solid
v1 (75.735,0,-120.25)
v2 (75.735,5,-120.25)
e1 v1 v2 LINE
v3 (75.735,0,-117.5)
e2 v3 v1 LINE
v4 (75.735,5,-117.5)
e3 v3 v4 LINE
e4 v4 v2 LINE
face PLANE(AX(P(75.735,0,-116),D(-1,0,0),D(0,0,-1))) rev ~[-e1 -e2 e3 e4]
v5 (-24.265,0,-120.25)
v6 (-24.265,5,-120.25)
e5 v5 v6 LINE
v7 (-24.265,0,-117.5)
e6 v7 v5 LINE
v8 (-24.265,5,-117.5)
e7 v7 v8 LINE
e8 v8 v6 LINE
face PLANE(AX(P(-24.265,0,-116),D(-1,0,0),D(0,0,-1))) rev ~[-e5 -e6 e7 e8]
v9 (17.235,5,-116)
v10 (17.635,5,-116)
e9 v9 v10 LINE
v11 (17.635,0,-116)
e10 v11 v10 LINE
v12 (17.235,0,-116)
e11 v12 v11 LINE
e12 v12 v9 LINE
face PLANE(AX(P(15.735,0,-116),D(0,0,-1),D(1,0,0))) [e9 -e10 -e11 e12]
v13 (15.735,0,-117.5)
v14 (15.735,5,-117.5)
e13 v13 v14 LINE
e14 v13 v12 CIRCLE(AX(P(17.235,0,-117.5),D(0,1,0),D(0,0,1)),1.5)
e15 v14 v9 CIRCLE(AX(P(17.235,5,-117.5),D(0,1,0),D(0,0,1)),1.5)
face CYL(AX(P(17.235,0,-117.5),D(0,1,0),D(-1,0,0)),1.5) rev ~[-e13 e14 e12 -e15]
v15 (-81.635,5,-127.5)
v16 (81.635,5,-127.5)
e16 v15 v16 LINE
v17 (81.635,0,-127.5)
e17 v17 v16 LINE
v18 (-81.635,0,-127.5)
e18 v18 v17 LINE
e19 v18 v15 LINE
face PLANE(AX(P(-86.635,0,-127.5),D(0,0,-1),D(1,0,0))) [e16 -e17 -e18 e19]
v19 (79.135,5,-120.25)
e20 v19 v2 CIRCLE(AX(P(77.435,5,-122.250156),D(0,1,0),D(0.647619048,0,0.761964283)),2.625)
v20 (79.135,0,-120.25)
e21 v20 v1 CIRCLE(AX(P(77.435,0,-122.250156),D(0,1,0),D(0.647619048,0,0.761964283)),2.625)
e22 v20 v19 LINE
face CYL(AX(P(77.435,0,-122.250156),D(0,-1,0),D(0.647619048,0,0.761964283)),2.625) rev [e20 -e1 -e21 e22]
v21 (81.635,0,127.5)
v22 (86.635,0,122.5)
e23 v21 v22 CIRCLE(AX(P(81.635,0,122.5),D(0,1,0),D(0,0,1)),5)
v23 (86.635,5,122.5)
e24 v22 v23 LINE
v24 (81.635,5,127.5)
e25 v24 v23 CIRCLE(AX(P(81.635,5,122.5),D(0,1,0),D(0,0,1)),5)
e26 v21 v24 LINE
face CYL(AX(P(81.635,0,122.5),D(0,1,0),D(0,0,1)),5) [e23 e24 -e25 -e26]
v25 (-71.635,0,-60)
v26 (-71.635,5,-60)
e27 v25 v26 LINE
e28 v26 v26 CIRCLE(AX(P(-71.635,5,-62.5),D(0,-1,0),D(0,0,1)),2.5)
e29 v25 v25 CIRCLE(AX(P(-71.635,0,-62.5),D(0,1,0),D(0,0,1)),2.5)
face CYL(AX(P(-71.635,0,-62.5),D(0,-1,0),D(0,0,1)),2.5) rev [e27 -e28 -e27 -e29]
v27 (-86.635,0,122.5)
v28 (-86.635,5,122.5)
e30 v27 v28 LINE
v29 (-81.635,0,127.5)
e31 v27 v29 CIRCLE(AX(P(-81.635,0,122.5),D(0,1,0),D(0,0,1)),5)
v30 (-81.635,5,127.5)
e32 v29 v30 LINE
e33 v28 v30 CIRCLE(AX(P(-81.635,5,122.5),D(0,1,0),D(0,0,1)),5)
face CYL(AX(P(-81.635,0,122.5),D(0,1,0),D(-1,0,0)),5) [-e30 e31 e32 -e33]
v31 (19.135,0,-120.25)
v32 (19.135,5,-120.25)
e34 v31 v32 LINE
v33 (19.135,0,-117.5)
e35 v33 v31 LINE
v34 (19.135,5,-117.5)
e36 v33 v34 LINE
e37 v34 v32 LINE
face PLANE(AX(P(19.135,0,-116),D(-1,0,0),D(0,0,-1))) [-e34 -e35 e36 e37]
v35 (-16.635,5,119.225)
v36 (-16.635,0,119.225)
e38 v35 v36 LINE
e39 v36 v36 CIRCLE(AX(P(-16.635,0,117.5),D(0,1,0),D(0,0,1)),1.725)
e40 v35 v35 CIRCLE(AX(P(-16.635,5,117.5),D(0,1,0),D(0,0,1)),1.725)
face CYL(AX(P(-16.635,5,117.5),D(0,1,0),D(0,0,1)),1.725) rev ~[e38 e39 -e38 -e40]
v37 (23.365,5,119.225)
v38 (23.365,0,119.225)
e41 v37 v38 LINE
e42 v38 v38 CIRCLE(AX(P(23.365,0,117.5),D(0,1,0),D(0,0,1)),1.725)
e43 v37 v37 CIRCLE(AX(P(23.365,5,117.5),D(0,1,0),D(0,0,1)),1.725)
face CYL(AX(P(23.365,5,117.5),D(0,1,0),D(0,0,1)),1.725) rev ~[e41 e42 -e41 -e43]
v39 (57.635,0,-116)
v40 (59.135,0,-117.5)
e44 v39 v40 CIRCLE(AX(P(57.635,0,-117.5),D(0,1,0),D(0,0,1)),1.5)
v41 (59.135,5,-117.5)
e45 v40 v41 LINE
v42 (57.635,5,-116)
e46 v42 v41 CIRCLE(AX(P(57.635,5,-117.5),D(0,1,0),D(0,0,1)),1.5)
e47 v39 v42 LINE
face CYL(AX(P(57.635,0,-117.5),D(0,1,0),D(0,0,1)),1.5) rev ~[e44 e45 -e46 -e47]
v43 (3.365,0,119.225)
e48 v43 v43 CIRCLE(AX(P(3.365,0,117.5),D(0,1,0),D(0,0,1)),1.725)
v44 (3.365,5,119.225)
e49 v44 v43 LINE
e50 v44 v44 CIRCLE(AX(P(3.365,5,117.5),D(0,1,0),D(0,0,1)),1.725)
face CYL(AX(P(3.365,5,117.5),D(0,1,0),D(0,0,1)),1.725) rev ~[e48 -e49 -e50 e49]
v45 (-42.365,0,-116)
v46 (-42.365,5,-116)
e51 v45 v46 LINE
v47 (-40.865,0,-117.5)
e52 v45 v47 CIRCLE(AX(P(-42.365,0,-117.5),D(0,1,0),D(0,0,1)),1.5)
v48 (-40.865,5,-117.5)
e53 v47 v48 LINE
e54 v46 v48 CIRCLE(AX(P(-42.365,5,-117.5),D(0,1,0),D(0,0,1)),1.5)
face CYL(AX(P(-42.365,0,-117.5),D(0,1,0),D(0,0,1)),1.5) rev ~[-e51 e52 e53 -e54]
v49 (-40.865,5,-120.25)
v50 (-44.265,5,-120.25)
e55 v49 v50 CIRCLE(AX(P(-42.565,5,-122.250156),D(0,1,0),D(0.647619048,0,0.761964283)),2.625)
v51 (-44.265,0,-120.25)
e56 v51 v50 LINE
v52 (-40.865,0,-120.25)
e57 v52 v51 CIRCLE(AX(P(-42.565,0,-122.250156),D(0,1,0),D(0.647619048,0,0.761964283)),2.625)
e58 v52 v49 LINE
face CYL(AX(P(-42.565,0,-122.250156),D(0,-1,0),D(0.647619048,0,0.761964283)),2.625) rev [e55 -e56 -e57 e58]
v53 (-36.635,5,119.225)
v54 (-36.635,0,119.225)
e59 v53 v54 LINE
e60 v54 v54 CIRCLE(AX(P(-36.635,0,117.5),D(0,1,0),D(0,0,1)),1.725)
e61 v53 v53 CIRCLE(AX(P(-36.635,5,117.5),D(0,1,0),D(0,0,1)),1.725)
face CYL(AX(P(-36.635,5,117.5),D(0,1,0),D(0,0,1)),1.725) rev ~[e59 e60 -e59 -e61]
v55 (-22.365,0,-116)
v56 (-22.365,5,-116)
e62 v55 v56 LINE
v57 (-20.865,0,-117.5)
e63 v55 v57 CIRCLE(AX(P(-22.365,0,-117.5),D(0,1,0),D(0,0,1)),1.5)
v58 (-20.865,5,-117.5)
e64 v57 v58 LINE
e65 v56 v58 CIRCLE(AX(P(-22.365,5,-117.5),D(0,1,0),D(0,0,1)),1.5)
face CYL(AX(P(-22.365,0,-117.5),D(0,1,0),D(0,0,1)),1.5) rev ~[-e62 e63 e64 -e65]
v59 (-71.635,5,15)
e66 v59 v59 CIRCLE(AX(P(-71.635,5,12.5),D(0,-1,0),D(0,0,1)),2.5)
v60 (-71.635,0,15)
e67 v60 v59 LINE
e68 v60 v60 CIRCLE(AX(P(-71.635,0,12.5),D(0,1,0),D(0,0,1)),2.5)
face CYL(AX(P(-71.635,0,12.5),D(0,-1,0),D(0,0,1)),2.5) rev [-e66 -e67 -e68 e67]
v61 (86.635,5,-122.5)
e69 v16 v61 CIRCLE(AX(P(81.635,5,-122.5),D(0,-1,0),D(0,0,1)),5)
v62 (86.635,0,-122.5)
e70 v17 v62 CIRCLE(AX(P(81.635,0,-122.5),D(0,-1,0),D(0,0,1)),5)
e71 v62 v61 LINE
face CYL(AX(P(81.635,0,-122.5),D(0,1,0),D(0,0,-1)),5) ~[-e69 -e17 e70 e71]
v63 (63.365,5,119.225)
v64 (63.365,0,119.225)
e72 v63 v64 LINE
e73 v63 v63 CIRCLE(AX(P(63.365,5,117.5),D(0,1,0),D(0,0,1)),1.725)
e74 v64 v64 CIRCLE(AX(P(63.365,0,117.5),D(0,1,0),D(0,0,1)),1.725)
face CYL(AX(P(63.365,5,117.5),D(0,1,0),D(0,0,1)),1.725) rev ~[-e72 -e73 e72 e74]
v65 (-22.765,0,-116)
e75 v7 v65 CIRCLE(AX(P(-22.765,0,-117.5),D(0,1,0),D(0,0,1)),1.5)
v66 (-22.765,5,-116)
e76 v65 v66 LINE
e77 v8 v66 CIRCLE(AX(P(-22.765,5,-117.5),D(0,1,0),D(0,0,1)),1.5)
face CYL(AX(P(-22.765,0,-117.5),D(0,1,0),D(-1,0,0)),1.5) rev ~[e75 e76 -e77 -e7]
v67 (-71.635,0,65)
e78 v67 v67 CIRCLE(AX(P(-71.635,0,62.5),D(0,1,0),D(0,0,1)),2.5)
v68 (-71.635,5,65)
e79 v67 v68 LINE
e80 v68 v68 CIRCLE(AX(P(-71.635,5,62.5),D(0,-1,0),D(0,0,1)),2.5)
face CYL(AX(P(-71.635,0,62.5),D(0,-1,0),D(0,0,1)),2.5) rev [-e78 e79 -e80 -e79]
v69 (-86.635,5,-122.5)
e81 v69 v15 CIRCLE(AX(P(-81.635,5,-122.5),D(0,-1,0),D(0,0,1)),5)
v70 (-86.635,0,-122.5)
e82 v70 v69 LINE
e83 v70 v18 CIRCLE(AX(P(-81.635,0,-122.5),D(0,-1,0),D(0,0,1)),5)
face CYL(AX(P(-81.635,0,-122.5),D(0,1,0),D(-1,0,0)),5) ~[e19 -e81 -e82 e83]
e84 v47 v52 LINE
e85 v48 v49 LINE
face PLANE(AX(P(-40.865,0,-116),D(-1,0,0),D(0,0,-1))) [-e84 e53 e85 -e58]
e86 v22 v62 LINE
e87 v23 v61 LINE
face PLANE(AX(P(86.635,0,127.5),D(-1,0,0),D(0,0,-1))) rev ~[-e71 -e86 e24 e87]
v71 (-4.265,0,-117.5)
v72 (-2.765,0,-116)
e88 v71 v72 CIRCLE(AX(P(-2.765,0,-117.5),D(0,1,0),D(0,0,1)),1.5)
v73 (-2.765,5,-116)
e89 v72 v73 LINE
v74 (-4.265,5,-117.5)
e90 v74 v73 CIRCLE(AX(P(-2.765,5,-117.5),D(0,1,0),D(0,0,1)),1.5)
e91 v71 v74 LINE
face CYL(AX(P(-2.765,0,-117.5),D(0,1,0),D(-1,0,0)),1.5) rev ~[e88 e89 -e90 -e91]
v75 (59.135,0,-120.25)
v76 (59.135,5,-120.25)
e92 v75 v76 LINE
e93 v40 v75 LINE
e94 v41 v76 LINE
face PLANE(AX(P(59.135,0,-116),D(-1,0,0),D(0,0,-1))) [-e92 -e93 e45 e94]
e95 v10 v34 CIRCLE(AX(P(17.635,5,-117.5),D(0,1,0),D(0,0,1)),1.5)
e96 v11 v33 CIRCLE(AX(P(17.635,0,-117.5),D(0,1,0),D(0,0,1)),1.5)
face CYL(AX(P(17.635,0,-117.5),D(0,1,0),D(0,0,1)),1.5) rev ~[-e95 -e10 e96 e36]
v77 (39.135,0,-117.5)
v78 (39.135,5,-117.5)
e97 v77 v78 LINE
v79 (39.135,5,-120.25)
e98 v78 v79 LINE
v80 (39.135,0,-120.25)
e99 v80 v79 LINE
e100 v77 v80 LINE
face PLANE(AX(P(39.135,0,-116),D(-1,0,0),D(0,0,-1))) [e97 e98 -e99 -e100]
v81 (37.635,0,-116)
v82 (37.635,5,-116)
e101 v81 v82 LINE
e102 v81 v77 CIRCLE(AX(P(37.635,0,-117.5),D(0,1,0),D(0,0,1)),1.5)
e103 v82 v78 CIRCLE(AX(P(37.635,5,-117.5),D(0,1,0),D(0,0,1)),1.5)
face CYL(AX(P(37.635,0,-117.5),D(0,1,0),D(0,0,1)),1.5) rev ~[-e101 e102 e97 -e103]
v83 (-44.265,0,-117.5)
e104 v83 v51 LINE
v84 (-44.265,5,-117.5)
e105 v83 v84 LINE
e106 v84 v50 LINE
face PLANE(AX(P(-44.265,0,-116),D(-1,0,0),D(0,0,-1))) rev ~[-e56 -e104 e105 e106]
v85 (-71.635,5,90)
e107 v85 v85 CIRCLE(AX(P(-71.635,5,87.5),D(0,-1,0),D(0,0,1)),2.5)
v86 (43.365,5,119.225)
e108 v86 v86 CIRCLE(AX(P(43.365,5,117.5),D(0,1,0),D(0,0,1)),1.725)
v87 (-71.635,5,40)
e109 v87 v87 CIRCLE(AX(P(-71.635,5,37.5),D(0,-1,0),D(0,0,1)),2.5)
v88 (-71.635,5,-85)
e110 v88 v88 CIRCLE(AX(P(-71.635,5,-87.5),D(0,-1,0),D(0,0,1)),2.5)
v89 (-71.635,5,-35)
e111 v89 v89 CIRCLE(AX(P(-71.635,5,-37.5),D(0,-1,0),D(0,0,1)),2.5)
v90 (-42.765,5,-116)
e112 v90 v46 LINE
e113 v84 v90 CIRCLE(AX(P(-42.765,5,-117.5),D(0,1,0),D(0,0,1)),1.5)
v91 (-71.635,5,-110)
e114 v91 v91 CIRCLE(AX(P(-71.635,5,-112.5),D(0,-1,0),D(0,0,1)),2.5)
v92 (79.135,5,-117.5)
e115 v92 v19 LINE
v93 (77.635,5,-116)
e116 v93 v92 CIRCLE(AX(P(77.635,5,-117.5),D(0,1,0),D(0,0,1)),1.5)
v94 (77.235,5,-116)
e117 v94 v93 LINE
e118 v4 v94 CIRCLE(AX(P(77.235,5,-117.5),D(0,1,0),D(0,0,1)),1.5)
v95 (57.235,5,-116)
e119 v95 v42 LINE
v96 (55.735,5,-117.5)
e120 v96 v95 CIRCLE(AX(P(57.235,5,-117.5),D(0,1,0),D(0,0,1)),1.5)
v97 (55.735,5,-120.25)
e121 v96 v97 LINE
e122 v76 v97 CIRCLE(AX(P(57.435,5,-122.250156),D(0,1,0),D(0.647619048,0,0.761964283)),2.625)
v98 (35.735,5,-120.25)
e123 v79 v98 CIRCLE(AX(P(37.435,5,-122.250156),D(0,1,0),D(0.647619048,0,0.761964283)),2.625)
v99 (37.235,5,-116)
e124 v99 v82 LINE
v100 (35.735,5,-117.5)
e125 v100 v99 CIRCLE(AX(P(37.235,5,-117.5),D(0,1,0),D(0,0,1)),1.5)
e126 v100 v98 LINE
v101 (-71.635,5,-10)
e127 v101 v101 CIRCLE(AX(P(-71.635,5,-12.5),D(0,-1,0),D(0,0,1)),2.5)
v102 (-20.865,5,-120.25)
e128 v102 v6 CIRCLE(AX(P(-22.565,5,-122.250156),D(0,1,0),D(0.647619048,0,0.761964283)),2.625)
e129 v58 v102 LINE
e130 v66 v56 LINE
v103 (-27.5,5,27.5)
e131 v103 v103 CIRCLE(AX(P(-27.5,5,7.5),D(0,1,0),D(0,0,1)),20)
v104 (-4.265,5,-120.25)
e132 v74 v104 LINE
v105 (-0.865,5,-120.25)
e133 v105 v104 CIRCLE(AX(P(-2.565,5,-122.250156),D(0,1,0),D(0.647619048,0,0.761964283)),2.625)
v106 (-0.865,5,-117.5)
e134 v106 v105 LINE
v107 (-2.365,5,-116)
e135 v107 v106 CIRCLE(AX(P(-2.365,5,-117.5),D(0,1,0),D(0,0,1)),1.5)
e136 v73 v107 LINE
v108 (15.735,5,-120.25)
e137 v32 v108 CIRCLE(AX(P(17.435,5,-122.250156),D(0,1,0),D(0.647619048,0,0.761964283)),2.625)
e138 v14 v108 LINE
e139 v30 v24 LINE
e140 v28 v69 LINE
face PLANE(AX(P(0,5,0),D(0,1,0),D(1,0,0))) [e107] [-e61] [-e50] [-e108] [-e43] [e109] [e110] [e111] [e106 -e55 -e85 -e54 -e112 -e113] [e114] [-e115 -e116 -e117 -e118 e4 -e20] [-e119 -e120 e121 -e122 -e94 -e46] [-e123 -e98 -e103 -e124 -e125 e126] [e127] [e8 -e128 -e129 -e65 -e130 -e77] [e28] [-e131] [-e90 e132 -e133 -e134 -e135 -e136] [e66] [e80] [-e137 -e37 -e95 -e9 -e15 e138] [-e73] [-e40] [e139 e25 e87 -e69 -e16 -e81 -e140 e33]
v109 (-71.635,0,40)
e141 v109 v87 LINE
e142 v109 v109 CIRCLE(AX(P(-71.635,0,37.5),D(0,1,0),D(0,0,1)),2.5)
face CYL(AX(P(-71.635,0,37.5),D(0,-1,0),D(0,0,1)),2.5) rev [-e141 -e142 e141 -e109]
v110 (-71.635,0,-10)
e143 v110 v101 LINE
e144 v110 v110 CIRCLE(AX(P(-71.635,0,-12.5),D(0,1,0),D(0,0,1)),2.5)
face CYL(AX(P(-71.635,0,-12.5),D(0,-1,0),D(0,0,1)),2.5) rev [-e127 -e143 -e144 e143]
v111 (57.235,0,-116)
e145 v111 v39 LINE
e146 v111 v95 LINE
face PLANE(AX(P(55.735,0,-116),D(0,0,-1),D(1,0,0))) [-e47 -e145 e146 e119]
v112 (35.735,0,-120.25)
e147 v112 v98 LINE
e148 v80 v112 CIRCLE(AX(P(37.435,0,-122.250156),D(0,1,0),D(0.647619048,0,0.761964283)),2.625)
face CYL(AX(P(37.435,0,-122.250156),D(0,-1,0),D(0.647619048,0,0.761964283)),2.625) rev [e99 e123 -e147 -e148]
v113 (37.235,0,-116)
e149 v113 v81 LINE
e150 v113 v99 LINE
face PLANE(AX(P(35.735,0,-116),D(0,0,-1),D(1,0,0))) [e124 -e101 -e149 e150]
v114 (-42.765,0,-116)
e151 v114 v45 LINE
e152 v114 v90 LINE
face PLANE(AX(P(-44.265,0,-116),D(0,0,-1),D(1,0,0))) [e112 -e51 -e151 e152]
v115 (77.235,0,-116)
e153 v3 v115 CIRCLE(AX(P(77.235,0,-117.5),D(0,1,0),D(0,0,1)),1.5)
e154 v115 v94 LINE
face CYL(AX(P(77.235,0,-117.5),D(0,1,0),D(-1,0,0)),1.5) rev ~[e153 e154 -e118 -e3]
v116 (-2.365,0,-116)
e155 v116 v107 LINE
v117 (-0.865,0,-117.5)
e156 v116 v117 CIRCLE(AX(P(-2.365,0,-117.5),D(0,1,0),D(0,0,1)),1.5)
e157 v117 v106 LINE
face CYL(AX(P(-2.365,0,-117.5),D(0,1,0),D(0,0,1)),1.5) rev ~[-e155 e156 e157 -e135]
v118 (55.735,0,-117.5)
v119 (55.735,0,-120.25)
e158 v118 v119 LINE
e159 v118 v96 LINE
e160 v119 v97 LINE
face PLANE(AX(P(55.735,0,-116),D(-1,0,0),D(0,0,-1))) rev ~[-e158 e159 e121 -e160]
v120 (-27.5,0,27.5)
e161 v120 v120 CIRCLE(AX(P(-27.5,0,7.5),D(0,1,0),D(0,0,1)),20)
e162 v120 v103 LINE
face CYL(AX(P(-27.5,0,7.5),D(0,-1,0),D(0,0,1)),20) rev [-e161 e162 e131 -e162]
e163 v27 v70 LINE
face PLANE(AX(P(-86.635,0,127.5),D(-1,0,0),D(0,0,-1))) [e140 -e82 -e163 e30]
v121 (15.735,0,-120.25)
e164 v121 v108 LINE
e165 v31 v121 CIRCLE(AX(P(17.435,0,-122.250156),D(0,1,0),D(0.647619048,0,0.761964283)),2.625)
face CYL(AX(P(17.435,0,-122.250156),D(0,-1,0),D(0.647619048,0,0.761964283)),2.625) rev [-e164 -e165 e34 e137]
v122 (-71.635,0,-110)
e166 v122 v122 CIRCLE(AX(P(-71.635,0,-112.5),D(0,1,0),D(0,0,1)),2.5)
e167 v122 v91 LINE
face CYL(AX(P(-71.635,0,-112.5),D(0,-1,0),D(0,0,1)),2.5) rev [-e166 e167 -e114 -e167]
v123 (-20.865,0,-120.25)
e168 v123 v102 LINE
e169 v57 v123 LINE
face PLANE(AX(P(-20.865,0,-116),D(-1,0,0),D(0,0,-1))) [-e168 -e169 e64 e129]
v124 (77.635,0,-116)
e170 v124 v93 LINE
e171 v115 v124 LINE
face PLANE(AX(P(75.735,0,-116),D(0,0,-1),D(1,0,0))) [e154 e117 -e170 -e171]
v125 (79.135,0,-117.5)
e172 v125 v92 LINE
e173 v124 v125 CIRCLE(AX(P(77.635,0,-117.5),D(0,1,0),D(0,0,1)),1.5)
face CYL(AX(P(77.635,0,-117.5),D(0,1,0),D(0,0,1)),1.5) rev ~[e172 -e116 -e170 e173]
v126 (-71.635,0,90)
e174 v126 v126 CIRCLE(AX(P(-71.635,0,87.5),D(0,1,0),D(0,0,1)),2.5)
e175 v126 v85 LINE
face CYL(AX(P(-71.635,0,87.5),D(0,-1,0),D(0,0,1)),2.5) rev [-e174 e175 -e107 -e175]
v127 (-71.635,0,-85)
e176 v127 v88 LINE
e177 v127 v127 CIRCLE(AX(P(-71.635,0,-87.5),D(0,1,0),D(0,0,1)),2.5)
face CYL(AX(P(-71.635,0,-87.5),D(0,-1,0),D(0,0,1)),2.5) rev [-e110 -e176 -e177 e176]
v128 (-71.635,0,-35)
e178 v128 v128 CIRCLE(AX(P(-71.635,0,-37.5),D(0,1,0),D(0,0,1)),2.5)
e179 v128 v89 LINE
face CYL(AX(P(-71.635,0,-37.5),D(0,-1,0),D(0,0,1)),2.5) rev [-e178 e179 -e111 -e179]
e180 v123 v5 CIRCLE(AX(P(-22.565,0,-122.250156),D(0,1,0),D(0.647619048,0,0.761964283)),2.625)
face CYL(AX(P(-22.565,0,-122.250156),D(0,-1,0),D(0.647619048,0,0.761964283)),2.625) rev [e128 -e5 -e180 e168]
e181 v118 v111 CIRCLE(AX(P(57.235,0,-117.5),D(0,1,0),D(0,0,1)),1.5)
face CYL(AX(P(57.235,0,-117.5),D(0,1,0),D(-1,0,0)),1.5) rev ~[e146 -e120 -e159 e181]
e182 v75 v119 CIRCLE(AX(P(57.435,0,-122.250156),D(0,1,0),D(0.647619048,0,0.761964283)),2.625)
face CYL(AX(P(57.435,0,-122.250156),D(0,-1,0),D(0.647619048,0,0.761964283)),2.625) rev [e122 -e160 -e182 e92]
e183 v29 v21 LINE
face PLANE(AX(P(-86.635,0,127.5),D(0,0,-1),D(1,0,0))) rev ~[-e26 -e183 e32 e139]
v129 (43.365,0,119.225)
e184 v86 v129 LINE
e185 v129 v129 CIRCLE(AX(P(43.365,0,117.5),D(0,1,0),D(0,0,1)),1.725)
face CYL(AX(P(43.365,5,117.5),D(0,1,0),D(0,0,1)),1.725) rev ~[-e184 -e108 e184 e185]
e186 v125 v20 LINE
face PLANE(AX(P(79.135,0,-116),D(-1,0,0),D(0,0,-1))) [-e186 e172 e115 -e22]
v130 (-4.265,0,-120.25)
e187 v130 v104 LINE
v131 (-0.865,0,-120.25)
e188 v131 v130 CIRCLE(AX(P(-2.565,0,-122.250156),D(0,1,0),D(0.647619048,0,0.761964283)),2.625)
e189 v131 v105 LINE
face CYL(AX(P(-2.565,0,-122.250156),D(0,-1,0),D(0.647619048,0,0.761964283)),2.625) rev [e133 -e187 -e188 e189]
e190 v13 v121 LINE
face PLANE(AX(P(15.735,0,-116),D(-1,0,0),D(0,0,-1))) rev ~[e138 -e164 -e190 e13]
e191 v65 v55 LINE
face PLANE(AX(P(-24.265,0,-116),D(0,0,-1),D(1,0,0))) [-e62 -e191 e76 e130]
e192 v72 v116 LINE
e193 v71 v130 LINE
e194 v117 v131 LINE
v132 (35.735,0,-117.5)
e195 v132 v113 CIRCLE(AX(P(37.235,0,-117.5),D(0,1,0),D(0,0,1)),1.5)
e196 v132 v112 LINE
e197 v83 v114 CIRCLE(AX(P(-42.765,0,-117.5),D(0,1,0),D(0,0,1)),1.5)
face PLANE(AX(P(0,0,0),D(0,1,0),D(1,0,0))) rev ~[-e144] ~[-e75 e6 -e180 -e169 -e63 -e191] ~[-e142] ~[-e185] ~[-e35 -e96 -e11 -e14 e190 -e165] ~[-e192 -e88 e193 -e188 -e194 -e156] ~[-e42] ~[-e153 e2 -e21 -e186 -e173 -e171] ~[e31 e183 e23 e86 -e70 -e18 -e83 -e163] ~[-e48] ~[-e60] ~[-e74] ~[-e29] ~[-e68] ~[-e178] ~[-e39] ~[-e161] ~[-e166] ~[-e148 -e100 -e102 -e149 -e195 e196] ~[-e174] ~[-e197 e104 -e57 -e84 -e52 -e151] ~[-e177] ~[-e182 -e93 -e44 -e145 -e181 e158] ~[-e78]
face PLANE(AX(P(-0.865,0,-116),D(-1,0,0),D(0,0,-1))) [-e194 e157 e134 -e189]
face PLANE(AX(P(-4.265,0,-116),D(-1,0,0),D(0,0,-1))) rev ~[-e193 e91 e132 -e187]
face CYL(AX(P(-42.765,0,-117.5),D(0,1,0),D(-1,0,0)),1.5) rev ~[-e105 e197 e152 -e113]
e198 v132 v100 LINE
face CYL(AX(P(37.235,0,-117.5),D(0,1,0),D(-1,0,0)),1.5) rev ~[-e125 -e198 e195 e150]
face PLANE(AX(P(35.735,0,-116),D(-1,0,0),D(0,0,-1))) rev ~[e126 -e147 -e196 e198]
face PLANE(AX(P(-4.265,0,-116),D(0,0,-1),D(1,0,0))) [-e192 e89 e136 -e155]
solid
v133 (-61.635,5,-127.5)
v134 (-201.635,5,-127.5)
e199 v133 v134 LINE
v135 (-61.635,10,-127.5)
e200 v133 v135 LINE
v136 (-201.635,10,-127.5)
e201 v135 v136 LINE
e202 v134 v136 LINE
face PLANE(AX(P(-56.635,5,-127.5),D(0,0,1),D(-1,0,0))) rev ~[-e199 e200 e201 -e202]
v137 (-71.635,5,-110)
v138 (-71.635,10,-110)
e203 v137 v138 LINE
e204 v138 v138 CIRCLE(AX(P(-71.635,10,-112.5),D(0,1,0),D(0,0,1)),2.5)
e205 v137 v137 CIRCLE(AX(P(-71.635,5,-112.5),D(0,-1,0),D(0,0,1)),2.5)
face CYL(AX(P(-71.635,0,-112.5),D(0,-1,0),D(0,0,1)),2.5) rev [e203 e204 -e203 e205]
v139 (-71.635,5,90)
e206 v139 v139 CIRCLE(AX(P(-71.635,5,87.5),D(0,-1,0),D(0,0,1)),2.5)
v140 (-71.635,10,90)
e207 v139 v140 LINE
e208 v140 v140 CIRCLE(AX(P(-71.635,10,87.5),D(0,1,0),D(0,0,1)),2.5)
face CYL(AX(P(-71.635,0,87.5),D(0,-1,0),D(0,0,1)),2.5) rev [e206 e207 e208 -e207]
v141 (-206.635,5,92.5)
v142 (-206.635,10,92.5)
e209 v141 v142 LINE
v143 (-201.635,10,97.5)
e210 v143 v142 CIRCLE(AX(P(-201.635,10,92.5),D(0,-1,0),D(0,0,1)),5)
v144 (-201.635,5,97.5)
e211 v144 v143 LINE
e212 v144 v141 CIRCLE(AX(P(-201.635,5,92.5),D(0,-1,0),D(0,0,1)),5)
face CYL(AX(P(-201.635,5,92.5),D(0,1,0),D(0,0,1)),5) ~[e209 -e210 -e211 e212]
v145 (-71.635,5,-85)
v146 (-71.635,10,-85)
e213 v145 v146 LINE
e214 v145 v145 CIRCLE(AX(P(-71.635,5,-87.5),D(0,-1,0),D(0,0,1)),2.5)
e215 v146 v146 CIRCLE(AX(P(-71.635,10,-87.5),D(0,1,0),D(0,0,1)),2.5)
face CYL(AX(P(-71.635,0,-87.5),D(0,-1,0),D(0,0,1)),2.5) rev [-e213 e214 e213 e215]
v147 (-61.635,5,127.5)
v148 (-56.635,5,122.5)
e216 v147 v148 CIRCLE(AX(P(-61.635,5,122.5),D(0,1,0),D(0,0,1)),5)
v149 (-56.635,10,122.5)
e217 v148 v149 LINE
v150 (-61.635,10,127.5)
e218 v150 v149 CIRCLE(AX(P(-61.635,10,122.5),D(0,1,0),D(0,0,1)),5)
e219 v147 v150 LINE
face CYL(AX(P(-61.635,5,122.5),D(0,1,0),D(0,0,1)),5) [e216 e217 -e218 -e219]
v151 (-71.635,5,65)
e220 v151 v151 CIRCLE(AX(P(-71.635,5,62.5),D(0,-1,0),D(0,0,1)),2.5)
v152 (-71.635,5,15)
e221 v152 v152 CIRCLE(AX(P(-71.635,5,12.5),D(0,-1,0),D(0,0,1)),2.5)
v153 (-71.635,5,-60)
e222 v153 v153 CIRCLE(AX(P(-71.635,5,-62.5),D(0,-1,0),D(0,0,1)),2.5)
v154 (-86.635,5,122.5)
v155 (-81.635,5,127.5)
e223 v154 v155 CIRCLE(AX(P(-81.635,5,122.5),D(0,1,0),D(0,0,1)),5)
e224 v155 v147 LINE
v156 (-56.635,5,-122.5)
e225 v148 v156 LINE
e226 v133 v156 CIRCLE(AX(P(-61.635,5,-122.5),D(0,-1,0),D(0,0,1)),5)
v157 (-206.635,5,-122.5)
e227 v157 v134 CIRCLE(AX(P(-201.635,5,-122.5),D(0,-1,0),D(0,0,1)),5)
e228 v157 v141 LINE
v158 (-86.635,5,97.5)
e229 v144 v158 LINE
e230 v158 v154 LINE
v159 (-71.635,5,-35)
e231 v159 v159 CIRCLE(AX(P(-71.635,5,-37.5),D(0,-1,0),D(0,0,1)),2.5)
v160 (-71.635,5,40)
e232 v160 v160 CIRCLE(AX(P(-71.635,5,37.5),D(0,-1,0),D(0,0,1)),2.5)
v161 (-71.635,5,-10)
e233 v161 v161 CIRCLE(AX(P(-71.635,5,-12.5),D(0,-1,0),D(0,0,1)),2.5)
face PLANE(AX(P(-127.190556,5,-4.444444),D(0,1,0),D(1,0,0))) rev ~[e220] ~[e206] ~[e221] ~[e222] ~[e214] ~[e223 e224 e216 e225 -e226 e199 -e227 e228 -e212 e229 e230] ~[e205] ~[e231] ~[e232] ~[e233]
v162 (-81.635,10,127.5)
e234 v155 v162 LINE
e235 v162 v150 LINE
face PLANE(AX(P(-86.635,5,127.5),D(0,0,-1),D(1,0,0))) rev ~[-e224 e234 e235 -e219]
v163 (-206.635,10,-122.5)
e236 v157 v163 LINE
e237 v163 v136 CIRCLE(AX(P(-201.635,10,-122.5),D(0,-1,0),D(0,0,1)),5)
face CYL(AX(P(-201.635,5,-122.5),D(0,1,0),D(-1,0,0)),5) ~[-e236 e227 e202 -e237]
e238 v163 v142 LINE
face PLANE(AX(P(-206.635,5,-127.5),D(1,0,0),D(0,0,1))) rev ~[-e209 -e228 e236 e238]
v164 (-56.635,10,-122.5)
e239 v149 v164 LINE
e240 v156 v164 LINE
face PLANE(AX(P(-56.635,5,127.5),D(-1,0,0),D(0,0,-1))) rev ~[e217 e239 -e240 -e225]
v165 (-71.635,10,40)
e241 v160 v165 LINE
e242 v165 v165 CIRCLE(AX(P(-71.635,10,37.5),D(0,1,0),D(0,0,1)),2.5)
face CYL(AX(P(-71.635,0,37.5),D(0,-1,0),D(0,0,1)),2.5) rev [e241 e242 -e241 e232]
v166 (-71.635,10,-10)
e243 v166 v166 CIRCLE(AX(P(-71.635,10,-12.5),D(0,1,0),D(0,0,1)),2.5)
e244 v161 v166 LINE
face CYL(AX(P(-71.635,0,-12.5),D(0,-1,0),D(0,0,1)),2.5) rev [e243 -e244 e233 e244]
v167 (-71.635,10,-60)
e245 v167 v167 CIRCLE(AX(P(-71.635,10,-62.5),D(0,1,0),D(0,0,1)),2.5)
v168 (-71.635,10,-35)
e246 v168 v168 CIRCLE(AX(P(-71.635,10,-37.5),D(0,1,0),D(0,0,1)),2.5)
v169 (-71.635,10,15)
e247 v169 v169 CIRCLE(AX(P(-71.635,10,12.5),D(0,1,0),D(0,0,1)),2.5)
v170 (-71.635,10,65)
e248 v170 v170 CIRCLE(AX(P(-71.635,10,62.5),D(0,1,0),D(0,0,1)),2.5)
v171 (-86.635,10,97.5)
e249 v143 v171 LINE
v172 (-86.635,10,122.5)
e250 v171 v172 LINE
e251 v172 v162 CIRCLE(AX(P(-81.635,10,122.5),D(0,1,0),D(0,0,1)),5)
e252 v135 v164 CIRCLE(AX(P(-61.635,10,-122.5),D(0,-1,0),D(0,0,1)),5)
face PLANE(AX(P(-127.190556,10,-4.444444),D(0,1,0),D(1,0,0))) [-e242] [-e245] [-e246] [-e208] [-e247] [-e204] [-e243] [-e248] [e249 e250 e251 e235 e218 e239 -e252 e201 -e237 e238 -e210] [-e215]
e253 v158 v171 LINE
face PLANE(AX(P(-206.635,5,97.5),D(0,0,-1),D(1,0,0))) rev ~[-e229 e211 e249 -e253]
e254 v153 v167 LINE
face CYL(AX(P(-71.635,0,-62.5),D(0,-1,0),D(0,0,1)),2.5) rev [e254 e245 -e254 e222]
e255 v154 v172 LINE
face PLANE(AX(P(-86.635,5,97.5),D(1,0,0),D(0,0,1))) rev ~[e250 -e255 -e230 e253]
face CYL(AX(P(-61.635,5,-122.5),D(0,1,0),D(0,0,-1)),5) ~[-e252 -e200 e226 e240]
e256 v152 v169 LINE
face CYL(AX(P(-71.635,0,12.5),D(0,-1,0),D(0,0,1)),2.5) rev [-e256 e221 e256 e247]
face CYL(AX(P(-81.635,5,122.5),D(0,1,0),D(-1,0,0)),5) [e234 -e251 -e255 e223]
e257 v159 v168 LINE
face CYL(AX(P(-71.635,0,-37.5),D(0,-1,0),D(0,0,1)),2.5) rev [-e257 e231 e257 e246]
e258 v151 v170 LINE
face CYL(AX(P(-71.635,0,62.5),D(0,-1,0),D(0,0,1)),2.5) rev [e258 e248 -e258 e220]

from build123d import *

# Parameters (mm, degrees)
SKETCH1_W                            = 173.27
SKETCH1_H                            = 255
SKETCH1_R                            = 20
PLATE_BODY_DEPTH                     = 5
EXTENSION_DEPTH                      = 5
EXTENSION_START                      = -10
SKETCH8_R                            = 2.5
EXTENSION_CONNECTOR_DEPTH            = 10
SKETCH15_R                           = 2.625
SKETCH15_W                           = 3.4
SKETCH15_H                           = 4.25
KEYHOLE_SLOT_BASE_DEPTH              = 5
KEYHOLE_R                            = 1.5
LPATTERN1_KEYHOLE_SLOTS_COUNT        = 7
LPATTERN1_KEYHOLE_SLOTS_PITCH        = 20
KEYHOLE_OF_LPATTERN1_KEYHOLE_SLOTS_R = 1.5
SKETCH16_R                           = 1.725
FRONT_MOUNTING_POINTS_DEPTH          = 5
PLATE_BODY_FILLET_R                  = 5
EXTENSION_FILLET_R                   = 5


with BuildPart() as part:
    # Sketch1 → Plate body (new body)
    with BuildSketch(Plane(origin=(0, 0, 0), x_dir=(1, 0, 0), z_dir=(0, 1, 0))):
        Rectangle(SKETCH1_W, SKETCH1_H)
        with Locations(Location((-27.5, -7.5, 0), (0, 0, 270))):
            Circle(SKETCH1_R, mode=Mode.SUBTRACT)
    extrude(amount=PLATE_BODY_DEPTH)


with BuildPart() as body_2:
    # Sketch2 → Extension (new body)
    with BuildSketch(Plane(origin=(0, 5, 0), x_dir=(1, 0, 0), z_dir=(0, 1, 0))):
        Polygon((-206.635, -97.5), (-86.635, -97.5), (-86.635, -127.5), (-56.635, -127.5), (-56.635, 127.5), (-206.635, 127.5), align=None)
    extrude(amount=EXTENSION_DEPTH)


with BuildPart() as extension_connector_tool:
    # Sketch8 → Extension connector (new body)
    with BuildSketch(Plane(origin=(0, 10, 0), x_dir=(1, 0, 0), z_dir=(0, 1, 0)).offset(EXTENSION_START)):
        with Locations(Location((-71.635, 112.5, 0), (0, 0, 270))):
            Circle(SKETCH8_R)
        with Locations(Location((-71.635, 87.5, 0), (0, 0, 270))):
            Circle(SKETCH8_R)
        with Locations(Location((-71.635, 62.5, 0), (0, 0, 270))):
            Circle(SKETCH8_R)
        with Locations(Location((-71.635, 37.5, 0), (0, 0, 270))):
            Circle(SKETCH8_R)
        with Locations(Location((-71.635, 12.5, 0), (0, 0, 270))):
            Circle(SKETCH8_R)
        with Locations(Location((-71.635, -12.5, 0), (0, 0, 270))):
            Circle(SKETCH8_R)
        with Locations(Location((-71.635, -37.5, 0), (0, 0, 270))):
            Circle(SKETCH8_R)
        with Locations(Location((-71.635, -62.5, 0), (0, 0, 270))):
            Circle(SKETCH8_R)
        with Locations(Location((-71.635, -87.5, 0), (0, 0, 270))):
            Circle(SKETCH8_R)
    extrude(amount=EXTENSION_CONNECTOR_DEPTH)


with BuildPart() as part_1:
    add(part.part)

    # Extension connector: cut by extension_connector_tool
    add(extension_connector_tool.part, mode=Mode.SUBTRACT)

    # Sketch15 → Keyhole slot base (cut)
    with BuildSketch(Plane(origin=(0, 0, 0), x_dir=(1, 0, 0), z_dir=(0, 1, 0))):
        with Locations((77.435, 122.250156244)):
            Circle(SKETCH15_R)
        with Locations((77.435, 118.125)):
            Rectangle(SKETCH15_W, SKETCH15_H)
    keyhole_slot_base = extrude(amount=KEYHOLE_SLOT_BASE_DEPTH, mode=Mode.SUBTRACT)

    # Keyhole
    keyhole_edges = [part_1.edges().sort_by_distance(p)[0] for p in [
        (75.735, 2.5, -116),
        (79.135, 2.5, -116),
    ]]
    fillet(keyhole_edges, radius=KEYHOLE_R)

    # LPattern1 keyhole slots: Keyhole slot base ×7
    with Locations(*[(-i * LPATTERN1_KEYHOLE_SLOTS_PITCH, 0, 0) for i in range(1, LPATTERN1_KEYHOLE_SLOTS_COUNT)]):
        add(keyhole_slot_base, mode=Mode.SUBTRACT)

    # Keyhole of LPattern1 keyhole slots
    keyhole_of_lpattern1_keyhole_slots_edges = [part_1.edges().sort_by_distance(p)[0] for p in [
        (55.735, 2.5, -116),
        (59.135, 2.5, -116),
        (35.735, 2.5, -116),
        (39.135, 2.5, -116),
        (15.735, 2.5, -116),
        (19.135, 2.5, -116),
        (-4.265, 2.5, -116),
        (-0.865, 2.5, -116),
        (-24.265, 2.5, -116),
        (-20.865, 2.5, -116),
        (-44.265, 2.5, -116),
        (-40.865, 2.5, -116),
    ]]
    fillet(keyhole_of_lpattern1_keyhole_slots_edges, radius=KEYHOLE_OF_LPATTERN1_KEYHOLE_SLOTS_R)

    # Sketch16 → Front mounting points (cut)
    with BuildSketch(Plane(origin=(0, 5, 0), x_dir=(1, 0, 0), z_dir=(0, 1, 0))):
        with Locations(Location((-36.635, -117.5, 0), (0, 0, 270))):
            Circle(SKETCH16_R)
        with Locations(Location((-16.635, -117.5, 0), (0, 0, 270))):
            Circle(SKETCH16_R)
        with Locations(Location((3.365, -117.5, 0), (0, 0, 270))):
            Circle(SKETCH16_R)
        with Locations(Location((23.365, -117.5, 0), (0, 0, 270))):
            Circle(SKETCH16_R)
        with Locations(Location((43.365, -117.5, 0), (0, 0, 270))):
            Circle(SKETCH16_R)
        with Locations(Location((63.365, -117.5, 0), (0, 0, 270))):
            Circle(SKETCH16_R)
    extrude(amount=-FRONT_MOUNTING_POINTS_DEPTH, mode=Mode.SUBTRACT)

    # Plate body fillet
    plate_body_fillet_edges = [part_1.edges().sort_by_distance(p)[0] for p in [
        (-86.635, 2.5, 127.5),
        (-86.635, 2.5, -127.5),
        (86.635, 2.5, -127.5),
        (86.635, 2.5, 127.5),
    ]]
    fillet(plate_body_fillet_edges, radius=PLATE_BODY_FILLET_R)


with BuildPart() as body_2_1:
    add(body_2.part)

    # Extension connector: cut by extension_connector_tool
    add(extension_connector_tool.part, mode=Mode.SUBTRACT)

    # Extension fillet
    extension_fillet_edges = [body_2_1.edges().sort_by_distance(p)[0] for p in [
        (-206.635, 7.5, -127.5),
        (-56.635, 7.5, -127.5),
        (-56.635, 7.5, 127.5),
        (-86.635, 7.5, 127.5),
        (-206.635, 7.5, 97.5),
    ]]
    fillet(extension_fillet_edges, radius=EXTENSION_FILLET_R)


solid = Compound([part_1.part, body_2_1.part])
